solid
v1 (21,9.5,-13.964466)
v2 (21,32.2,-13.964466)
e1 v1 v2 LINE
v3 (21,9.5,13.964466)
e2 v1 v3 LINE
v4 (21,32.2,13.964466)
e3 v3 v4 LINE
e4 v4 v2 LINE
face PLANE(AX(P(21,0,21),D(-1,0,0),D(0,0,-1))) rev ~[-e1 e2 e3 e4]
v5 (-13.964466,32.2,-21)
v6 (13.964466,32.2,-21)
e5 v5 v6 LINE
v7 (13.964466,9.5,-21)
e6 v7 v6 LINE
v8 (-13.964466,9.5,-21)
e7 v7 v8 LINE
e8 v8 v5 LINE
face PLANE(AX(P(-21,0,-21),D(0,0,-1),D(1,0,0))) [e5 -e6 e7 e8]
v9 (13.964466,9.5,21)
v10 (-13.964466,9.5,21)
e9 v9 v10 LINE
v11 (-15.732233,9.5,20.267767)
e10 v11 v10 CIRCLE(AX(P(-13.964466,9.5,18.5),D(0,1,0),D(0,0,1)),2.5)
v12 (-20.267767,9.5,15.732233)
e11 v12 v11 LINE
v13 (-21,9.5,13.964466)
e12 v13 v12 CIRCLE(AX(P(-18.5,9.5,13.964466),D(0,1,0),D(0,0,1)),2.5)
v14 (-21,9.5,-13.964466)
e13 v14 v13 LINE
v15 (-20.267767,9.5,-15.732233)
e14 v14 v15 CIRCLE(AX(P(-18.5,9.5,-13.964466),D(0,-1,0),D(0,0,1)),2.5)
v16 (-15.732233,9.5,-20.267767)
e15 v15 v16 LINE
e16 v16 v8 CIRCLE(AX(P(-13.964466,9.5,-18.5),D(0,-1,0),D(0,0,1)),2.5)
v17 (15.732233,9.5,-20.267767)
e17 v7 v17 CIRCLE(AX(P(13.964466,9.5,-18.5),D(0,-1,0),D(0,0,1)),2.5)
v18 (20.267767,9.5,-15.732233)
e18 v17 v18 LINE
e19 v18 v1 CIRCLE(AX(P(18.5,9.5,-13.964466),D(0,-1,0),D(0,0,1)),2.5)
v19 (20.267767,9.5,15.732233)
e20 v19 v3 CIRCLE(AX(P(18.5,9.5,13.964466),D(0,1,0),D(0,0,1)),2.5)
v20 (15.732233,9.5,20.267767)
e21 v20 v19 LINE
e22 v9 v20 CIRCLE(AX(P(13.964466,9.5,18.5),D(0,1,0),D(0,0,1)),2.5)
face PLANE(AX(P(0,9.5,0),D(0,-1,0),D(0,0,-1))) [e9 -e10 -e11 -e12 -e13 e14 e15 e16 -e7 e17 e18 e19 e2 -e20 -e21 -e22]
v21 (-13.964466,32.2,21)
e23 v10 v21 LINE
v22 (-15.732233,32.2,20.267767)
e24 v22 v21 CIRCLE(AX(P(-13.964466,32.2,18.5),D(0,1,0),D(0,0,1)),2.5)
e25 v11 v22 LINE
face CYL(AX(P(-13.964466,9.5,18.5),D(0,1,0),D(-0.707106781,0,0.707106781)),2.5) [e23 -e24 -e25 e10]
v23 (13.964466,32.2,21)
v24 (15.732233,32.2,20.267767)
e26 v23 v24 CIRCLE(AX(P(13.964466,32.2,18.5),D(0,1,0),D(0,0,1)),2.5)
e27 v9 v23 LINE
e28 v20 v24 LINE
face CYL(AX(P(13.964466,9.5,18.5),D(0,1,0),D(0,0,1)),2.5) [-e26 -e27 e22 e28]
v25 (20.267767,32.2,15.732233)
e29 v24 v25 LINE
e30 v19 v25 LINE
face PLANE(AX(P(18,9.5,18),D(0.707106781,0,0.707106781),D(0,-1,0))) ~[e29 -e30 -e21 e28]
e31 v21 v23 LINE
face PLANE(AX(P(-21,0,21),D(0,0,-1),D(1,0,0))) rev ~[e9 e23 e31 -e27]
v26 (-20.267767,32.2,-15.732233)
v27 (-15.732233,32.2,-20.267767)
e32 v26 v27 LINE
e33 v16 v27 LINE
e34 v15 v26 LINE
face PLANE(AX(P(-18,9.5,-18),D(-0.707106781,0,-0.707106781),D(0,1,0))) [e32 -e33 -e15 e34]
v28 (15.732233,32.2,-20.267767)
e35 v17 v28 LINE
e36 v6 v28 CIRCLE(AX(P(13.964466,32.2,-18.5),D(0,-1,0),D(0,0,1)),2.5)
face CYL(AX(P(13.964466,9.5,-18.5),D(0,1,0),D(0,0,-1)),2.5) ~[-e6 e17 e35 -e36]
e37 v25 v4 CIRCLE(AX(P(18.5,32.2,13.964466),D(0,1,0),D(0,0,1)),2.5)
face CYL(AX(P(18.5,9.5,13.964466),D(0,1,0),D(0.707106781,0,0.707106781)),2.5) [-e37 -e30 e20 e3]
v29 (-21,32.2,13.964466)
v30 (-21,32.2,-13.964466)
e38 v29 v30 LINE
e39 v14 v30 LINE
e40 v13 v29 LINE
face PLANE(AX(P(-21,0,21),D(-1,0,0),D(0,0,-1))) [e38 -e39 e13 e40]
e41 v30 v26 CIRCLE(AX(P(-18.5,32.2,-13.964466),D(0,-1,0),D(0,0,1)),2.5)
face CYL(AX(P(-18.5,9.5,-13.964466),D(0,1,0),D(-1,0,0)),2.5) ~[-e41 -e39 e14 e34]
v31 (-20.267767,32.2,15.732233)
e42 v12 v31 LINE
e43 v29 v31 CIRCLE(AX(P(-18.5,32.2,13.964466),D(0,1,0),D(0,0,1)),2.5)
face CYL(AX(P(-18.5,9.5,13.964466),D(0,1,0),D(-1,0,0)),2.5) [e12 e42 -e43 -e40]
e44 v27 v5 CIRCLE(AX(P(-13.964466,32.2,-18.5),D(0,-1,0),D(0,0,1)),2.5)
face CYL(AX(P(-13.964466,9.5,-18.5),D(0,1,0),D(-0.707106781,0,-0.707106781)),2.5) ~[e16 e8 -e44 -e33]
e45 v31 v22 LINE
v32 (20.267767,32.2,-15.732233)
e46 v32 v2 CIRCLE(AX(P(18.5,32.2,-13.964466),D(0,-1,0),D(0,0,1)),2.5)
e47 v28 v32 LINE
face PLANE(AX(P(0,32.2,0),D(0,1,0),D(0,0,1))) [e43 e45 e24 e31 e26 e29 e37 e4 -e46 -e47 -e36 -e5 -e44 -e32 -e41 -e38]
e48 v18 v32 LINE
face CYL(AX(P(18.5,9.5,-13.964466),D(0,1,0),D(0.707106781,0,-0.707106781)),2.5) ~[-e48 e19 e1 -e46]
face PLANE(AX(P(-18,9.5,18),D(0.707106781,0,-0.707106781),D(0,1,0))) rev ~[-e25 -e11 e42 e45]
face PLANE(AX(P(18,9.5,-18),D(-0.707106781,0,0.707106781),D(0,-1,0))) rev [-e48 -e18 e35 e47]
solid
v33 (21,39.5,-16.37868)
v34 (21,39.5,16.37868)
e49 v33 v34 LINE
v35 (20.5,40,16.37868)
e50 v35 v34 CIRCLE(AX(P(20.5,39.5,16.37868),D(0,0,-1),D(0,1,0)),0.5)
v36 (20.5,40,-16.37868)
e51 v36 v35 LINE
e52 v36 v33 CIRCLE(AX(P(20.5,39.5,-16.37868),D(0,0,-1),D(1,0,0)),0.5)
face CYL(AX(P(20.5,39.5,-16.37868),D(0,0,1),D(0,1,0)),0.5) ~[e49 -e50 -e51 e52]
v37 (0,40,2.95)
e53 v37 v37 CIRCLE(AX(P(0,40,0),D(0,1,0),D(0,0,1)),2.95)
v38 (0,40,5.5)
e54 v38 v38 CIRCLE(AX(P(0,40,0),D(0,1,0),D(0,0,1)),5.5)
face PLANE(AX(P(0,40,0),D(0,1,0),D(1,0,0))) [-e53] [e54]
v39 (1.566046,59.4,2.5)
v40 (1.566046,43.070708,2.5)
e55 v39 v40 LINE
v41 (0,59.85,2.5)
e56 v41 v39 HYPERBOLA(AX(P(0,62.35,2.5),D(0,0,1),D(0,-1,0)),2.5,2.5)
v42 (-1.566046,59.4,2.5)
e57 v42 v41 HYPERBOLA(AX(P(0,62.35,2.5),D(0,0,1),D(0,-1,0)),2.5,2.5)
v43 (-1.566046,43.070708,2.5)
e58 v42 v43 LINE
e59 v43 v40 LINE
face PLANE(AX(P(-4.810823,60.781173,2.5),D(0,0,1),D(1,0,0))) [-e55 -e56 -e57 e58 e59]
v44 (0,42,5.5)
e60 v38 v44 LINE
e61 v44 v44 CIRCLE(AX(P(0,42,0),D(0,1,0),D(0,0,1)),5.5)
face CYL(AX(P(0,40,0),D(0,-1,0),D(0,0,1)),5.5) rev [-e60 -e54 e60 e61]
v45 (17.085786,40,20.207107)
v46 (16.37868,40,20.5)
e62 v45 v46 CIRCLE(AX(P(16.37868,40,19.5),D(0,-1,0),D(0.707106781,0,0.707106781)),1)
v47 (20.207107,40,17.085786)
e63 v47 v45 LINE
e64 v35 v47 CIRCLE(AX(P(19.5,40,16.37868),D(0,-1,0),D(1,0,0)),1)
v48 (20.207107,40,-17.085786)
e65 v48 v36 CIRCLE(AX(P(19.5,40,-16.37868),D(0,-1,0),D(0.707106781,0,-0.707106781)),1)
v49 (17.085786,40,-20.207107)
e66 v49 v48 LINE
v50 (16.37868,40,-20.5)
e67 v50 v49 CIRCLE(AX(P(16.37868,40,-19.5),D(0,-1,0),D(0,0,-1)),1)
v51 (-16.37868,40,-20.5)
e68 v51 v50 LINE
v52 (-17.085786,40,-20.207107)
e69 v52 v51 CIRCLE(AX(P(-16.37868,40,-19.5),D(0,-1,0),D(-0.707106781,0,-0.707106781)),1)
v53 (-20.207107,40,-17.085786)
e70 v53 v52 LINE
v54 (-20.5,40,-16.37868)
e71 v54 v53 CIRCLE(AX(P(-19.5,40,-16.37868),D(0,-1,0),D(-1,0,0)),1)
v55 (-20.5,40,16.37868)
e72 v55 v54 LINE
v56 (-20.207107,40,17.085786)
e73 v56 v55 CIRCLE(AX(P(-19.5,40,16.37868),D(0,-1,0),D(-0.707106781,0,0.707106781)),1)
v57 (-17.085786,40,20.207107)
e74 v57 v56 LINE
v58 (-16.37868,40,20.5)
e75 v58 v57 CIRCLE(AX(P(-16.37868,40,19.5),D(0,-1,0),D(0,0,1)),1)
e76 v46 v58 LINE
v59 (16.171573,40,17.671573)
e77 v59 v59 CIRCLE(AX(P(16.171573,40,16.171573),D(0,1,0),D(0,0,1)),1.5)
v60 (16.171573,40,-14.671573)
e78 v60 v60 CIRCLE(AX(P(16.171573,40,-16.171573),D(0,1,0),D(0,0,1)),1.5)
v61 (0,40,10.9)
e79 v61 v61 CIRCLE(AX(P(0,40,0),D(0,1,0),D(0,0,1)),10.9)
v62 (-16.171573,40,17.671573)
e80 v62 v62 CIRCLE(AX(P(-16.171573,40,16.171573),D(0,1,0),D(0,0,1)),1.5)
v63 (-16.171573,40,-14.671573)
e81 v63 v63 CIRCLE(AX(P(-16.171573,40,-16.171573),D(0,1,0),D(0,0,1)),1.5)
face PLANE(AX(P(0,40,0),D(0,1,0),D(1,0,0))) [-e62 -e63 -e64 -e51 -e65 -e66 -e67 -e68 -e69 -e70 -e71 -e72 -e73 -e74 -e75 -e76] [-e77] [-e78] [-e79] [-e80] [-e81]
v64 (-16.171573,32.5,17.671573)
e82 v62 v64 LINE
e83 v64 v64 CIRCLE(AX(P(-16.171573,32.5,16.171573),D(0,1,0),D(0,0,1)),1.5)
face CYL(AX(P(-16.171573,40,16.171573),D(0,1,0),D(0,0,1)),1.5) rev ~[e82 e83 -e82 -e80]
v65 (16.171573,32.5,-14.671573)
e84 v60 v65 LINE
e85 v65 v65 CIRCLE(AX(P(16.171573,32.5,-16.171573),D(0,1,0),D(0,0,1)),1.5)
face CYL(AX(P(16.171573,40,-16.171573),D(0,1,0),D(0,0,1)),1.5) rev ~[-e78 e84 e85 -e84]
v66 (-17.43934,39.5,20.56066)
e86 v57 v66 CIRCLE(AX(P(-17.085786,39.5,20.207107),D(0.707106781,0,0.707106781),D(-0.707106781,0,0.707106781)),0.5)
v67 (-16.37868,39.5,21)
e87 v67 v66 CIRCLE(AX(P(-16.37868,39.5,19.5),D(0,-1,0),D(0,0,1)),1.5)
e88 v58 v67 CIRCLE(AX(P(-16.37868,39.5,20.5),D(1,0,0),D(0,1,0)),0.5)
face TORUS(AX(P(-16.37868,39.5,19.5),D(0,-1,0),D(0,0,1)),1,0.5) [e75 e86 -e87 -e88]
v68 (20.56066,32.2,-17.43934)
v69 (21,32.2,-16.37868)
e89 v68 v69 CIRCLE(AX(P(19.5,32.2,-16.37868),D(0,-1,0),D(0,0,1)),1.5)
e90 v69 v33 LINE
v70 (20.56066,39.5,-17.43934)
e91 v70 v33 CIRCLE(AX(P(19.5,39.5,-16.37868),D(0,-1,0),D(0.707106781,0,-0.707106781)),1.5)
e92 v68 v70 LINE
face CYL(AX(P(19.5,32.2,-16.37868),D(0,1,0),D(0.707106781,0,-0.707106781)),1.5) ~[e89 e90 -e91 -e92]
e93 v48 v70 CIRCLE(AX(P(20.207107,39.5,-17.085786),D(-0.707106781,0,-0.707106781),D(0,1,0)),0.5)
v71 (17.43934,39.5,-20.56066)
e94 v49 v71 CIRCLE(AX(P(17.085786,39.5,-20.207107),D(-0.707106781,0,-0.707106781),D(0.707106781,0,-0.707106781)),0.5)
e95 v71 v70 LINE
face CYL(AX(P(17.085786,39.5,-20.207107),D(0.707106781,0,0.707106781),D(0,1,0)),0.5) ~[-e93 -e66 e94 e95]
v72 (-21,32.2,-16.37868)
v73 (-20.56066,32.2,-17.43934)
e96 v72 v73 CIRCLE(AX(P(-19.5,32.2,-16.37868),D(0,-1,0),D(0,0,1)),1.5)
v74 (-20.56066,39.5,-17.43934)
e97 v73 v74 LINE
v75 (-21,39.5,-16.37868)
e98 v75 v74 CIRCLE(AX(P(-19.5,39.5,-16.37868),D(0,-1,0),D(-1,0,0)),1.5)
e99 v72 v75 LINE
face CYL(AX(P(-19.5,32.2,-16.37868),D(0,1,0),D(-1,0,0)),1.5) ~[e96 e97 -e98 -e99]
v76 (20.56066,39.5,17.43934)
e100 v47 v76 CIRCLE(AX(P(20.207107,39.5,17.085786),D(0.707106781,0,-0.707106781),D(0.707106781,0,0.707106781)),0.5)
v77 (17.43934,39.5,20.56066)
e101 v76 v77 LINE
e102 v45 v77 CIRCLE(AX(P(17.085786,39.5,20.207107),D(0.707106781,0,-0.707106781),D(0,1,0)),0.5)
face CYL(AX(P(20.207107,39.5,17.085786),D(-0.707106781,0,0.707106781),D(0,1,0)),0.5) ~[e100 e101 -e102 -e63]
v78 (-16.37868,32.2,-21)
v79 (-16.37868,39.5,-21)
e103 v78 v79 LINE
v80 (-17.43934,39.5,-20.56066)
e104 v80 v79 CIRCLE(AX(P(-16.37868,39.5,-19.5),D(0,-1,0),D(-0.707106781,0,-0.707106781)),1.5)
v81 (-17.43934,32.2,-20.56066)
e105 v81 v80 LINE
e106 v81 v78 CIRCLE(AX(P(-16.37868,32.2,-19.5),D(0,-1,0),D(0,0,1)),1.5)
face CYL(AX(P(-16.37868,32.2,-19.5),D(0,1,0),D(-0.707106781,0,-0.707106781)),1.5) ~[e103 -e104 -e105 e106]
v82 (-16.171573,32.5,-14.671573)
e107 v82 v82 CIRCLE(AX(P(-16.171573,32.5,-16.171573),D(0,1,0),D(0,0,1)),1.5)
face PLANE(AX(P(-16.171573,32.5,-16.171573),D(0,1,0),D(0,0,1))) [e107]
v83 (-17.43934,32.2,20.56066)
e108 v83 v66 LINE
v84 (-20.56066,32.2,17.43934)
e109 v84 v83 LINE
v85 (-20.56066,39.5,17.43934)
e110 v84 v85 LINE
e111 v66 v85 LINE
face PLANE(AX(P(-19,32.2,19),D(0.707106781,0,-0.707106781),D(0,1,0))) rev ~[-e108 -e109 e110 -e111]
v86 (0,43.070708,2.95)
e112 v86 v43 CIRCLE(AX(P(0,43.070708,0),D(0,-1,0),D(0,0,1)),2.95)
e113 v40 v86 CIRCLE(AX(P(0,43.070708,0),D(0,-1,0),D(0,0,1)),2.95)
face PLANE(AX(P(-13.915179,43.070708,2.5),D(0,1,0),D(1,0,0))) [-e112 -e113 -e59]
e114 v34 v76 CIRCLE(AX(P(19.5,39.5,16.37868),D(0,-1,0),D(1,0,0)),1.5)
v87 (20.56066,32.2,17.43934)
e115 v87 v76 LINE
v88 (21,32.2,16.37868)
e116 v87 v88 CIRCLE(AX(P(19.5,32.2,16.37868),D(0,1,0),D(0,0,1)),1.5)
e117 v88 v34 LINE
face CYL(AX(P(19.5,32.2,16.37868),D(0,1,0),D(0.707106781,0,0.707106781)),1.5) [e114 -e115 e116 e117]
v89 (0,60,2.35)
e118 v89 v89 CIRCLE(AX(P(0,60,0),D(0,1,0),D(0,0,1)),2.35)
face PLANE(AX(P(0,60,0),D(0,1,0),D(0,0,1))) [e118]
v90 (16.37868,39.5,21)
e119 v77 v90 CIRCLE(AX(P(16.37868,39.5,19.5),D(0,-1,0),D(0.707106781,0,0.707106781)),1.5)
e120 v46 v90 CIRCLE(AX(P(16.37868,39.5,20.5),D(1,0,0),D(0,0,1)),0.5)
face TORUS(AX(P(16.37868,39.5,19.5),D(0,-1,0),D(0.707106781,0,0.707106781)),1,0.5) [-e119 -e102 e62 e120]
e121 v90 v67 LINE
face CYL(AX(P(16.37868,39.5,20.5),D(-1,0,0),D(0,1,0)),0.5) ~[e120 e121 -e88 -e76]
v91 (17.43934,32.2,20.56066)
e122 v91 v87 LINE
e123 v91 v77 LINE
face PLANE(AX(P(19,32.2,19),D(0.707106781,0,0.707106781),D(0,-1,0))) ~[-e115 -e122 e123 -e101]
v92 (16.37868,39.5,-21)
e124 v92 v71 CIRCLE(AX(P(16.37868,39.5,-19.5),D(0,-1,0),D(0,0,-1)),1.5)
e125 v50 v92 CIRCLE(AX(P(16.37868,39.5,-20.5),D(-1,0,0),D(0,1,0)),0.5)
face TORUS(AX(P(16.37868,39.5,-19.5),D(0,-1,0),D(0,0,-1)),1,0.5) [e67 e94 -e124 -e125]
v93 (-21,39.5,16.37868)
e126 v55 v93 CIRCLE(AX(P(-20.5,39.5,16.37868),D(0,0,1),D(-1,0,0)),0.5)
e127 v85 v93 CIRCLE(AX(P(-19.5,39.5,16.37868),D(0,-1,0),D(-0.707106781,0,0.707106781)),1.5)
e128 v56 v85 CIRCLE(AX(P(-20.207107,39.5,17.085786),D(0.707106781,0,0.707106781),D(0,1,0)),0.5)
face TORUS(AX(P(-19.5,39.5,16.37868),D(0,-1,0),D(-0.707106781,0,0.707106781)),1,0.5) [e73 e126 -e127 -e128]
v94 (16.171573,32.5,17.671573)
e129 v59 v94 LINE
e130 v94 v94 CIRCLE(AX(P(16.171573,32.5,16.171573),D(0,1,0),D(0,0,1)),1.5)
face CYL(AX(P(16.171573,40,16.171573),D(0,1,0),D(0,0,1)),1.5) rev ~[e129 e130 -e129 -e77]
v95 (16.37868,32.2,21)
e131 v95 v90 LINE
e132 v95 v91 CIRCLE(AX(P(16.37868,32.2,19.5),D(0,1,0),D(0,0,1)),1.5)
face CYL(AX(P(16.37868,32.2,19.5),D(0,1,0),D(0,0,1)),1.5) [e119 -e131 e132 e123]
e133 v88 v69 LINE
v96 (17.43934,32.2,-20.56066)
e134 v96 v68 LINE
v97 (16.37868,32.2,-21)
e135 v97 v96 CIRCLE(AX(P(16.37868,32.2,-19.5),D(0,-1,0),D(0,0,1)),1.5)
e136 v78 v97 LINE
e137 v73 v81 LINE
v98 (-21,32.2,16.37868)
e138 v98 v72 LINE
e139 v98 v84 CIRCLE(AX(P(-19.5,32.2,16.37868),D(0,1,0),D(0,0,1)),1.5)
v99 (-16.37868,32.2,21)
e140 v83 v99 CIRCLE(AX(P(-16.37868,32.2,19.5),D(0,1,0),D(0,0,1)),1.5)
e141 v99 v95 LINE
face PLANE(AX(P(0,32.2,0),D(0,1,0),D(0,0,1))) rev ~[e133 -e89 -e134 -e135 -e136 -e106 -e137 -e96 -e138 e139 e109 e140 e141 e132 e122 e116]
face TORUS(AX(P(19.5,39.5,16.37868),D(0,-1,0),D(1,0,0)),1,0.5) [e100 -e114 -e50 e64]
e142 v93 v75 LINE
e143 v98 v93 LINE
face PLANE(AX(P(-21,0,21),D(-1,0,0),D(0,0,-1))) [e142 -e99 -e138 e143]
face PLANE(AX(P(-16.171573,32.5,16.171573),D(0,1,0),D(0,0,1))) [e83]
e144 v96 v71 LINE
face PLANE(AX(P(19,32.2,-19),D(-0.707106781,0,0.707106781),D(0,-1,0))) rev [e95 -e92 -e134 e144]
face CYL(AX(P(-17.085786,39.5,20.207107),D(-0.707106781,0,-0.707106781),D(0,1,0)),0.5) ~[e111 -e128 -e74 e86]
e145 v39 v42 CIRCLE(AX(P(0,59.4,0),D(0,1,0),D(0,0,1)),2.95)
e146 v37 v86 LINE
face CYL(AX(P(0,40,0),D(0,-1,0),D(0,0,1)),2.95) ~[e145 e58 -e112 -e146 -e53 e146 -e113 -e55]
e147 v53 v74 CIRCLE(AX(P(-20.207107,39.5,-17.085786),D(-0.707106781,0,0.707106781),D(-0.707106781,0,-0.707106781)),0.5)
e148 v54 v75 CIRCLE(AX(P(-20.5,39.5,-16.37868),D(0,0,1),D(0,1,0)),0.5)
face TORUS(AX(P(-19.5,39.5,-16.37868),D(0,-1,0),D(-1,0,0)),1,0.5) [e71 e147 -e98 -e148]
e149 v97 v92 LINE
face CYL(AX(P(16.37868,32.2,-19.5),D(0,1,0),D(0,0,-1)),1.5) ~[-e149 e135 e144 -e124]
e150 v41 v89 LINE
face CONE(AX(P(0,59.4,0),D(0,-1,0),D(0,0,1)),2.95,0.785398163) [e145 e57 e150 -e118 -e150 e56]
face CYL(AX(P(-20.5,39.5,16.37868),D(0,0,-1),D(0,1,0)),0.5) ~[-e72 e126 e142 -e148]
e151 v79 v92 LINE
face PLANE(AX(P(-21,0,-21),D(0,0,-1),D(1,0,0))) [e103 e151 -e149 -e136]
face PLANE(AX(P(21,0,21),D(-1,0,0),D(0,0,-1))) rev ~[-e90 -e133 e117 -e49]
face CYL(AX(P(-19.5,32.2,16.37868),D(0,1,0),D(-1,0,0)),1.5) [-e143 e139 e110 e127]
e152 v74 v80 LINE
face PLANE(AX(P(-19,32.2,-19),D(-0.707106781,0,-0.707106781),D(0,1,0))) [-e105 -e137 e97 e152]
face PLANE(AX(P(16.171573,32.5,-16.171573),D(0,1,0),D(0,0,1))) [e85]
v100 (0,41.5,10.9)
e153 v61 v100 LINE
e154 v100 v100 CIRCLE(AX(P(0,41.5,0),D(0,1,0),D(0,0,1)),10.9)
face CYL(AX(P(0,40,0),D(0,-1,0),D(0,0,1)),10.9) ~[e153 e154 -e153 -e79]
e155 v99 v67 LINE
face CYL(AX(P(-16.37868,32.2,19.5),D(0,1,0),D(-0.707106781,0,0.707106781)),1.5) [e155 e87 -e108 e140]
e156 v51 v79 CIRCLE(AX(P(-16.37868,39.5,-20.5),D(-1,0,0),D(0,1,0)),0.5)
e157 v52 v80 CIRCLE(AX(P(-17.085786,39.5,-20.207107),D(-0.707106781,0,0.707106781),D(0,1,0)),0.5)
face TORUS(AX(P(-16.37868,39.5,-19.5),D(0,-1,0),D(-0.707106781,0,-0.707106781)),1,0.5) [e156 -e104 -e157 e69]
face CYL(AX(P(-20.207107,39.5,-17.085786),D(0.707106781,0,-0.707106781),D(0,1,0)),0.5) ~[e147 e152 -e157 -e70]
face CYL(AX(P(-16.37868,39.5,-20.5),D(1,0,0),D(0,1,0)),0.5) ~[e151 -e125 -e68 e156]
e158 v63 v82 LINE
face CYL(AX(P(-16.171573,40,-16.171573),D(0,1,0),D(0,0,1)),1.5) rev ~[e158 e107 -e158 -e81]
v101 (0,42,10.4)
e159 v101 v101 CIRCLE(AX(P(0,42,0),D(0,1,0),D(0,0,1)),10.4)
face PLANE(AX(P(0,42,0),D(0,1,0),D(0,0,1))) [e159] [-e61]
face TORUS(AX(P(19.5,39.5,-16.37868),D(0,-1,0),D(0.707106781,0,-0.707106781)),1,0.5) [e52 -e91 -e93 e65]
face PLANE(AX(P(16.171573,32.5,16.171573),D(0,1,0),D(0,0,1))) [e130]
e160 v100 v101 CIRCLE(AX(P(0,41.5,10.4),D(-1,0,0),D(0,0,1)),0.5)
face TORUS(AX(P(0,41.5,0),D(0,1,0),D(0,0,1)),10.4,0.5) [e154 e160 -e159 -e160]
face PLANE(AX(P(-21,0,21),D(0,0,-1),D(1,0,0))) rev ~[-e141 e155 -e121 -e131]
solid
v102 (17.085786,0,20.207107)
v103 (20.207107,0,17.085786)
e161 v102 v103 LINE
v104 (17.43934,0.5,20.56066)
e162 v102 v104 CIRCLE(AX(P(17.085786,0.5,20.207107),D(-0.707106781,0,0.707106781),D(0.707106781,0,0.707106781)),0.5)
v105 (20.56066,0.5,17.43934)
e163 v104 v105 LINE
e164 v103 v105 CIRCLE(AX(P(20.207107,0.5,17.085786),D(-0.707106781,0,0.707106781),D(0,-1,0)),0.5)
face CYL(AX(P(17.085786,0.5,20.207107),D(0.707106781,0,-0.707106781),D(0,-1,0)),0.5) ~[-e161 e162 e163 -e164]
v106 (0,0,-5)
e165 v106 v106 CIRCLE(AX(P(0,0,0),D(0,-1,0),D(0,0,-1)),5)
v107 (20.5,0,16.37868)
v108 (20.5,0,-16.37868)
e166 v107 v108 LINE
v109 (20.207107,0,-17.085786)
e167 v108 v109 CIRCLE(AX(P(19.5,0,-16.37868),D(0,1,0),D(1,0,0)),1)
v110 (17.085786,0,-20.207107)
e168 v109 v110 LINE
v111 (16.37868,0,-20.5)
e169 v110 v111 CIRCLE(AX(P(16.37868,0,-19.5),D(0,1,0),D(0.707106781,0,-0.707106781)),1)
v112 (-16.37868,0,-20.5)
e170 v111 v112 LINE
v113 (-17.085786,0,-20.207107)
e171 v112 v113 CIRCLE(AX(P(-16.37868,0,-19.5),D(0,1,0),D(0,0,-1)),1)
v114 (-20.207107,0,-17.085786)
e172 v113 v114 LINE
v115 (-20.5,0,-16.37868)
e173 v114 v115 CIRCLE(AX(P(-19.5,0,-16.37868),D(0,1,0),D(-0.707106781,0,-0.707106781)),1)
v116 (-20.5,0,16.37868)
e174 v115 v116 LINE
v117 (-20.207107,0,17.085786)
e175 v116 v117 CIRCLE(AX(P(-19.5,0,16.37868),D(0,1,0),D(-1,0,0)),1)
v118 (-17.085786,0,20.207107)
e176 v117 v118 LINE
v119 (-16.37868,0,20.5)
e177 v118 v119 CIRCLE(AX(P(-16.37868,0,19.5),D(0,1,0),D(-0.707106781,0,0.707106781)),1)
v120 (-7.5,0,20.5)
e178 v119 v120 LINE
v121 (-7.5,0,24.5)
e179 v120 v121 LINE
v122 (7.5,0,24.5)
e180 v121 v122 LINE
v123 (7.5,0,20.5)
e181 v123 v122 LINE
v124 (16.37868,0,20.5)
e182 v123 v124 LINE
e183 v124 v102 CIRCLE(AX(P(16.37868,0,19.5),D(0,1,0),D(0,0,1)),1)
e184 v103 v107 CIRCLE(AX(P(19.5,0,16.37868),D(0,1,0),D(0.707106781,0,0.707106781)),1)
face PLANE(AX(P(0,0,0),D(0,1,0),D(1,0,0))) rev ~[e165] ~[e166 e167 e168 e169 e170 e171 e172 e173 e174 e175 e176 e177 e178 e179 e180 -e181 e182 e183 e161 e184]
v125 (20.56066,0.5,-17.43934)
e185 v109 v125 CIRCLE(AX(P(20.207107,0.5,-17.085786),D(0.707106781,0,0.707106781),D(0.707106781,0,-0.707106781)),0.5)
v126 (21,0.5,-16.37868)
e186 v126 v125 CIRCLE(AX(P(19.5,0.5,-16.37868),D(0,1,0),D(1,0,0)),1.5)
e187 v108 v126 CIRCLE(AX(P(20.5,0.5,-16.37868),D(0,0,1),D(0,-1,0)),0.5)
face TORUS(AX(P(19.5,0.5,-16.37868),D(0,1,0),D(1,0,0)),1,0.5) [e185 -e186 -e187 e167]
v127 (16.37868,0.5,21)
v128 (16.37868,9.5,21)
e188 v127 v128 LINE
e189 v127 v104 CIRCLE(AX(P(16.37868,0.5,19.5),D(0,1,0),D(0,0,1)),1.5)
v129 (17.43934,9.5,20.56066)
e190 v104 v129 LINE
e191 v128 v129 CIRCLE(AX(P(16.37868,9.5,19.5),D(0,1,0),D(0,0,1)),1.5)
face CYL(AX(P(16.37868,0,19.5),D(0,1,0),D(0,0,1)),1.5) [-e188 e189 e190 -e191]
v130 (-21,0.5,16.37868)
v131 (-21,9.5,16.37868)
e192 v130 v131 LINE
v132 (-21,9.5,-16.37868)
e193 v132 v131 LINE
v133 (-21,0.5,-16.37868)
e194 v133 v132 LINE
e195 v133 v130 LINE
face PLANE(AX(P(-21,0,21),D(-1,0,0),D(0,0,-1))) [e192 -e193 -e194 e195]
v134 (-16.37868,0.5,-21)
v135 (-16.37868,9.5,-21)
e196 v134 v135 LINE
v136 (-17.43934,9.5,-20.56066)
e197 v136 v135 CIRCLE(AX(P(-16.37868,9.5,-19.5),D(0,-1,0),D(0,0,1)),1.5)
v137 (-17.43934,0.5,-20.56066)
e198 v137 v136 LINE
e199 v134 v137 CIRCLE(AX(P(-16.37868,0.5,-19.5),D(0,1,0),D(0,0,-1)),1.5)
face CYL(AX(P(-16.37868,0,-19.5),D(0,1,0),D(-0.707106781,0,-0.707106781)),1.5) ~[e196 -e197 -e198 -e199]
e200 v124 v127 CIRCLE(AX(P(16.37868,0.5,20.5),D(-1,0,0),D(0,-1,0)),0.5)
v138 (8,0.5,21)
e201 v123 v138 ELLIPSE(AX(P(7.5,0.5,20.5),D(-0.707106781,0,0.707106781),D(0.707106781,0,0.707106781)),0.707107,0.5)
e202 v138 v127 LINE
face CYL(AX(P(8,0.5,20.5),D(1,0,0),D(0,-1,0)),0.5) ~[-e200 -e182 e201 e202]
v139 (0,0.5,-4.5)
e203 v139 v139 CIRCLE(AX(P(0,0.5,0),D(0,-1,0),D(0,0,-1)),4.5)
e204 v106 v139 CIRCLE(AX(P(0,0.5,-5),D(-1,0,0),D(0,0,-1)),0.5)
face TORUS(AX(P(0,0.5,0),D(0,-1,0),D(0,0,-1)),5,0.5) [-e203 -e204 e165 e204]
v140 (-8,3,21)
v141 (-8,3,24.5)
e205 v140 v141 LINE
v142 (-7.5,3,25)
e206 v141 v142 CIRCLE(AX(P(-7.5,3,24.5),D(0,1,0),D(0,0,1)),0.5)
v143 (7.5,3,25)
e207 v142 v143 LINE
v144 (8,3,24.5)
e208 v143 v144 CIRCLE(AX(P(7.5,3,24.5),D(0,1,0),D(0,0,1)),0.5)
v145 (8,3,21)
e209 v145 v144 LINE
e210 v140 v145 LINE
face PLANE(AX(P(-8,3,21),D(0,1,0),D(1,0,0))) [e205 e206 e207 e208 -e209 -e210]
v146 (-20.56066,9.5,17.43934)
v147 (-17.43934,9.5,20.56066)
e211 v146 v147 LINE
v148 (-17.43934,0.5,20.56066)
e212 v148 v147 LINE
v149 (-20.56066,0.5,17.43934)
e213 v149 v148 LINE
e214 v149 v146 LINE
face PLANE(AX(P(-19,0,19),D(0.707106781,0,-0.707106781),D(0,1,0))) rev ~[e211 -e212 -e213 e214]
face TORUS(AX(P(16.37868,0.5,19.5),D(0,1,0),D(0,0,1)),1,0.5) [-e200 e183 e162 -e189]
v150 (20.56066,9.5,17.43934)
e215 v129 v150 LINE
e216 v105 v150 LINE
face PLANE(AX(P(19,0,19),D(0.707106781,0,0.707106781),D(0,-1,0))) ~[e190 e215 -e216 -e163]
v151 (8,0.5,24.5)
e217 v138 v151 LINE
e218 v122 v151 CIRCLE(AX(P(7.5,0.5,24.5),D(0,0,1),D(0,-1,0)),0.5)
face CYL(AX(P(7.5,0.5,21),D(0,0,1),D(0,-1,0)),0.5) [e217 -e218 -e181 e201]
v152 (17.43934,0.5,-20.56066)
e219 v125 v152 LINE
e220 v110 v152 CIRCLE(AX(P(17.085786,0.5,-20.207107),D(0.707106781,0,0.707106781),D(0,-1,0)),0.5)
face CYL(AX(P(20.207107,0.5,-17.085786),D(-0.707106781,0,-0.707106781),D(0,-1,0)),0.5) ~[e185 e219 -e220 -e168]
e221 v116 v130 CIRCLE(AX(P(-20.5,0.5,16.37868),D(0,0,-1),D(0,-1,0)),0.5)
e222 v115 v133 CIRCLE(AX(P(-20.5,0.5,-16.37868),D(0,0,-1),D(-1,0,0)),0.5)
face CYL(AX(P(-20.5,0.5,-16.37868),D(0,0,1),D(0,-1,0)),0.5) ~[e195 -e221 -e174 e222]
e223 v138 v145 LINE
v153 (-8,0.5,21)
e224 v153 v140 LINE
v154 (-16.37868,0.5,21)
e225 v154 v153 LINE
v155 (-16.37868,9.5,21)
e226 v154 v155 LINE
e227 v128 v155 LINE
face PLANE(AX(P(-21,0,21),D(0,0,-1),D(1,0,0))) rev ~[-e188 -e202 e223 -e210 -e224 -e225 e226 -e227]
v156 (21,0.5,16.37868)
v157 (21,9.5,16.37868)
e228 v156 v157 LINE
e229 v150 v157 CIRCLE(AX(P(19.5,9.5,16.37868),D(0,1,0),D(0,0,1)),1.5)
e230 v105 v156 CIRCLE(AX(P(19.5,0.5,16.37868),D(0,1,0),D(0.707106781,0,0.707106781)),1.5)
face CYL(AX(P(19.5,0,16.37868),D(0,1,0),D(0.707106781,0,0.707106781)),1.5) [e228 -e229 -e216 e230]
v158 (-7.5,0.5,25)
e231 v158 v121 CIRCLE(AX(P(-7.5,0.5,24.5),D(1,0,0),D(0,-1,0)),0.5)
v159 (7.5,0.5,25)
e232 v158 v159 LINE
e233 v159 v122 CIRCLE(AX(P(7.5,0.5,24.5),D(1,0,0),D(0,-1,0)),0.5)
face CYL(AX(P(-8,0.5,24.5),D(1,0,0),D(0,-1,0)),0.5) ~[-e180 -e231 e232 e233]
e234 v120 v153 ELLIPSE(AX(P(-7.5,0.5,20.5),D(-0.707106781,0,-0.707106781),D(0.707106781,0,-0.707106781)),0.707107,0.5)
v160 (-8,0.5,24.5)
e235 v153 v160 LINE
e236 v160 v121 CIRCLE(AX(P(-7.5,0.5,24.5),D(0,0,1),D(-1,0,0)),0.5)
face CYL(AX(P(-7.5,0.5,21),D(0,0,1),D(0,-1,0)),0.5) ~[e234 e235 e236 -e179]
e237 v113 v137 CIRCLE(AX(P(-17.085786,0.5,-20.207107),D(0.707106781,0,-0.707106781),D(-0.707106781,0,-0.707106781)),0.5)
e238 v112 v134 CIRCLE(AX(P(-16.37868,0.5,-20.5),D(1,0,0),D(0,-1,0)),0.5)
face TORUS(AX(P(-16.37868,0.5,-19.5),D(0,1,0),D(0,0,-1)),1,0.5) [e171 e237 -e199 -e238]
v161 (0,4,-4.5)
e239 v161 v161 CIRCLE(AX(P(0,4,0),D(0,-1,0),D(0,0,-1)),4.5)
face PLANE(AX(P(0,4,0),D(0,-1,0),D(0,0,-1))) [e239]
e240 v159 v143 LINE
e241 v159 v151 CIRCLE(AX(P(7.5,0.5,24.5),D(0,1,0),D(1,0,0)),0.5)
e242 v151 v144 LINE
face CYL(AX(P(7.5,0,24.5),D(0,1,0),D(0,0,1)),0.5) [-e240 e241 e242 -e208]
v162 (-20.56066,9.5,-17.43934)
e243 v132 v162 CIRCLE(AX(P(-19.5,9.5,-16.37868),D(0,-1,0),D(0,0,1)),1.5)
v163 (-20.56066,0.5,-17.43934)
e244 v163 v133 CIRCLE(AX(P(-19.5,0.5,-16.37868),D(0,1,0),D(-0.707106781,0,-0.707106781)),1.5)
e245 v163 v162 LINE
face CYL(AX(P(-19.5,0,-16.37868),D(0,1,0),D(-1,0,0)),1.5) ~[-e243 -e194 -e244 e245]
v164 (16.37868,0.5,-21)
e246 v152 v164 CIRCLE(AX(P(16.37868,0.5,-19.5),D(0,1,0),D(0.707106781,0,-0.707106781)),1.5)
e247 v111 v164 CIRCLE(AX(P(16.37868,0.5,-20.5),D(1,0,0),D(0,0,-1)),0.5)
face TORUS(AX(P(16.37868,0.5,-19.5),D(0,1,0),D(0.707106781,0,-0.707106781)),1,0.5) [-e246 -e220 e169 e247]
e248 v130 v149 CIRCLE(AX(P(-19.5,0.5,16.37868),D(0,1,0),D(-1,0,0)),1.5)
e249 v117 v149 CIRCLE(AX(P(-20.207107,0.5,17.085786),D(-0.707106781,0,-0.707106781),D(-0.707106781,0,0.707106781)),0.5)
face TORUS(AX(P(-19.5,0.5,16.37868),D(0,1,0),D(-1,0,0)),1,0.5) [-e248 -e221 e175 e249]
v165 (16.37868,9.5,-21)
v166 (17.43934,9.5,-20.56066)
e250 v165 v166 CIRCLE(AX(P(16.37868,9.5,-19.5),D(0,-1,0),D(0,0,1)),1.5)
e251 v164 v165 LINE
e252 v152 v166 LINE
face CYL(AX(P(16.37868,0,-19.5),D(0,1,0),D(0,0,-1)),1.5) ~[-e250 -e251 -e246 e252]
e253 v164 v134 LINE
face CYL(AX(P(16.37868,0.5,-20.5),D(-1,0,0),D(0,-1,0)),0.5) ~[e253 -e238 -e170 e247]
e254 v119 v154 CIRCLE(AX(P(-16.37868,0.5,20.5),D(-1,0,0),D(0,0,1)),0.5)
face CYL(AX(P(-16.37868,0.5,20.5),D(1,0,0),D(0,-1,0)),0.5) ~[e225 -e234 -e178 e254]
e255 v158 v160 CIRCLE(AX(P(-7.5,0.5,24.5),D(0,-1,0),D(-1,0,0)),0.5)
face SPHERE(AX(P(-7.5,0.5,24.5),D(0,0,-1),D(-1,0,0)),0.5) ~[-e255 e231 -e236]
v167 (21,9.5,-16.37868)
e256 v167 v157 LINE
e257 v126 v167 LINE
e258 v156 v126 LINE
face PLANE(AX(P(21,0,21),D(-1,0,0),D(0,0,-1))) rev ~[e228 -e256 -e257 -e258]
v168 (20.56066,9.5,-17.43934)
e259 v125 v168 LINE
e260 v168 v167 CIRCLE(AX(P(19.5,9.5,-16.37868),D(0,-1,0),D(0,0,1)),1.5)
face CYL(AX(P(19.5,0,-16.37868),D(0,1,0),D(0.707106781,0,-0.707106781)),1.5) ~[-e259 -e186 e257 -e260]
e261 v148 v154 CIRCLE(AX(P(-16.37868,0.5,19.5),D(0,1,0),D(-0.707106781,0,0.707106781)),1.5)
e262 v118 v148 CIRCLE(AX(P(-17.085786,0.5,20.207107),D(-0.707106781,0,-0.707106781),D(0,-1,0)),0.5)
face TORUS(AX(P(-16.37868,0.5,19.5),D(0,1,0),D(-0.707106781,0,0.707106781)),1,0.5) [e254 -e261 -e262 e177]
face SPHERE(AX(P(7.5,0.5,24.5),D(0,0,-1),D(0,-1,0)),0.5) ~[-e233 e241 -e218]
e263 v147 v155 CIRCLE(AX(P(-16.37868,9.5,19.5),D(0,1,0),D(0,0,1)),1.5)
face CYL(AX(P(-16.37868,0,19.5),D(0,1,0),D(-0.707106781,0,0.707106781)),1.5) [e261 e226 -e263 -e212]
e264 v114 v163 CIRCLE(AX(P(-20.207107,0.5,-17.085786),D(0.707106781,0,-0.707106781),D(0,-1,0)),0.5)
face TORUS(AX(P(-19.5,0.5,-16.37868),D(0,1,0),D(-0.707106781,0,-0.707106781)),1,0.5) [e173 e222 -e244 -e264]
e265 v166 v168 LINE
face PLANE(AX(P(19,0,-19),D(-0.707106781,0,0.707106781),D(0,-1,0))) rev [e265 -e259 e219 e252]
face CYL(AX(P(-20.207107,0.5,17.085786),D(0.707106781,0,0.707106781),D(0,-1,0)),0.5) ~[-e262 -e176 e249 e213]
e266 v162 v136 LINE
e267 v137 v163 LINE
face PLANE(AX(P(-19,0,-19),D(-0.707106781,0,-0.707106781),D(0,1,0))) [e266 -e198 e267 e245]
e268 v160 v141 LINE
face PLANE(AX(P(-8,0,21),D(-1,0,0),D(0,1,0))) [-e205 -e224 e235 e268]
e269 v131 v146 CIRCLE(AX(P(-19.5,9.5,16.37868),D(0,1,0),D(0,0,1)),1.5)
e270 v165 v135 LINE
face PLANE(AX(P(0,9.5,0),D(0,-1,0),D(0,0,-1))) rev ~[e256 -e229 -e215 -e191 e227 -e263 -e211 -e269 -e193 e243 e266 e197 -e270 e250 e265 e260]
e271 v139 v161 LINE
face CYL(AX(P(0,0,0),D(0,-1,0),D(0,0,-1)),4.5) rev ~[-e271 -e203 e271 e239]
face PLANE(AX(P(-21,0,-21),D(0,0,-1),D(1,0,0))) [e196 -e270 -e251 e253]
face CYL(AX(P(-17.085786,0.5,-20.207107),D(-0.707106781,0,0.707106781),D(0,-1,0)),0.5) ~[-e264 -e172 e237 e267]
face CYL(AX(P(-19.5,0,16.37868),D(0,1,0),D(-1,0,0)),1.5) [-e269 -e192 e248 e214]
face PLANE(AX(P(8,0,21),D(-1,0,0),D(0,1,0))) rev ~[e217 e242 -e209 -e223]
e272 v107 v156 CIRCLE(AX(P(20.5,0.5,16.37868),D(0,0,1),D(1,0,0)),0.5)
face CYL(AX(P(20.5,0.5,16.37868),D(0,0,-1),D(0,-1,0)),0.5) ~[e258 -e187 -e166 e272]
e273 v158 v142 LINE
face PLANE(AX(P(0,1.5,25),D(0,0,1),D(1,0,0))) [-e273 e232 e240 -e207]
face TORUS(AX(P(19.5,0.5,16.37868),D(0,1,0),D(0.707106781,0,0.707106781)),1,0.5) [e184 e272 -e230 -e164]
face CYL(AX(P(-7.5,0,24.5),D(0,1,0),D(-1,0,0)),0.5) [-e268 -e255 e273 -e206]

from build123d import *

# Parameters (mm, degrees)
SKETCH1_W           = 42
SKETCH1_H           = 42
BOSS_EXTRUDE1_DEPTH = 40
SKETCH3_R           = 10.9
SKETCH3_R_2         = 5.5
BOSS_EXTRUDE2_DEPTH = 2
SKETCH4_R           = 2.95
BOSS_EXTRUDE3_DEPTH = 20
CHAMFER1_SIZE       = 6
CHAMFER2_SIZE       = 4
CHAMFER3_SIZE       = 4
FILLET1_R           = 2.5
FILLET2_R           = 1.5
FILLET3_R           = 1.5
CHAMFER4_SIZE       = 0.6
SKETCH5_W           = 16
SKETCH5_H           = 3
BOSS_EXTRUDE4_DEPTH = 4
SKETCH6_R           = 4.5
CUT_EXTRUDE1_DEPTH  = 4
SKETCH7_R           = 1.5
CUT_EXTRUDE2_DEPTH  = 7.5
FILLET4_R           = 0.5
FILLET5_R           = 0.5
FILLET6_R           = 0.5
SKETCH8_W           = 18.208712608
SKETCH8_H           = 35.420928506
CUT_EXTRUDE4_DEPTH  = 6


with BuildPart() as part:
    # Sketch1 → Boss-Extrude1 (new body)
    with BuildSketch(Plane(origin=(0, 0, 0), x_dir=(1, 0, 0), z_dir=(0, 1, 0))):
        Rectangle(SKETCH1_W, SKETCH1_H)
    extrude(amount=BOSS_EXTRUDE1_DEPTH)

    # Sketch3 → Boss-Extrude2 (add)
    with BuildSketch(Plane(origin=(0, 40, 0), x_dir=(1, 0, 0), z_dir=(0, 1, 0))):
        with Locations(Location((0, 0, 0), (0, 0, 270))):
            Circle(SKETCH3_R)
        with Locations(Location((0, 0, 0), (0, 0, 270))):
            Circle(SKETCH3_R_2, mode=Mode.SUBTRACT)
    extrude(amount=BOSS_EXTRUDE2_DEPTH)

    # Sketch4 → Boss-Extrude3 (add)
    with BuildSketch(Plane(origin=(0, 40, 0), x_dir=(1, 0, 0), z_dir=(0, 1, 0))):
        with Locations(Location((0, 0, 0), (0, 0, 270))):
            Circle(SKETCH4_R)
    extrude(amount=BOSS_EXTRUDE3_DEPTH)


with BuildPart() as body_2:
    # Split1: the piece on the far side of the plane
    add(part.part)
    split(bisect_by=Plane(origin=(0, 9.5, 0), x_dir=(0, 0, -1), z_dir=(0, -1, 0)), keep=Keep.BOTTOM)


with BuildPart() as part_1:
    add(part.part)

    # Split1
    split(bisect_by=Plane(origin=(0, 9.5, 0), x_dir=(0, 0, -1), z_dir=(0, -1, 0)), keep=Keep.TOP)

    # Chamfer3
    chamfer3_edges = [part_1.edges().sort_by_distance(p)[0] for p in [
        (21, 4.75, 21),
        (-21, 4.75, 21),
        (-21, 4.75, -21),
        (21, 4.75, -21),
    ]]
    chamfer(chamfer3_edges, length=CHAMFER3_SIZE)

    # Fillet2
    fillet2_edges = [part_1.edges().sort_by_distance(p)[0] for p in [
        (-17, 4.75, -21),
        (17, 4.75, -21),
        (21, 4.75, 17),
        (21, 4.75, -17),
        (-17, 4.75, 21),
        (17, 4.75, 21),
        (-21, 4.75, -17),
        (-21, 4.75, 17),
    ]]
    fillet(fillet2_edges, radius=FILLET2_R)

    # Sketch5 → Boss-Extrude4 (add)
    with BuildSketch(Plane.XY.offset(21)):
        with Locations((0, 1.5)):
            Rectangle(SKETCH5_W, SKETCH5_H)
    extrude(amount=BOSS_EXTRUDE4_DEPTH)

    # Sketch6 → Cut-Extrude1 (cut)
    with BuildSketch(Plane.XZ):
        with Locations(Location((0, 0, 0), (0, 0, 270))):
            Circle(SKETCH6_R)
    extrude(amount=-CUT_EXTRUDE1_DEPTH, mode=Mode.SUBTRACT)

    # Fillet6
    fillet6_edges = [part_1.edges().sort_by_distance(p)[0] for p in [
        (12.189339828, 0, 21),
        (-8, 0, 23),
        (8, 0, 23),
        (-8, 1.5, 25),
        (0, 0, 25),
        (8, 1.5, 25),
        (0, 0, 4.5),
        (0, 0, -21),
        (19, 0, -19),
        (21, 0, 0),
        (19, 0, 19),
        (-12.189339828, 0, 21),
        (-19, 0, 19),
        (-21, 0, 0),
        (-19, 0, -19),
        (-20.885819299, 0, -16.952704805),
        (-16.952704805, 0, -20.885819299),
        (-20.885819299, 0, 16.952704805),
        (-16.952704805, 0, 20.885819299),
        (16.952704805, 0, 20.885819299),
        (20.885819299, 0, 16.952704805),
        (20.885819299, 0, -16.952704805),
        (16.952704805, 0, -20.885819299),
    ]]
    fillet(fillet6_edges, radius=FILLET6_R)


with BuildPart() as body_3:
    # Split2: the piece on the far side of the plane
    add(body_2.part)
    split(bisect_by=Plane.ZX.offset(32.2), keep=Keep.BOTTOM)

    # Chamfer1
    chamfer1_edges = [body_3.edges().sort_by_distance(p)[0] for p in [
        (21, 20.85, -21),
        (-21, 20.85, -21),
        (-21, 20.85, 21),
        (21, 20.85, 21),
    ]]
    chamfer(chamfer1_edges, length=CHAMFER1_SIZE)

    # Fillet1
    fillet1_edges = [body_3.edges().sort_by_distance(p)[0] for p in [
        (15, 20.85, 21),
        (-15, 20.85, 21),
        (-21, 20.85, -15),
        (-21, 20.85, 15),
        (15, 20.85, -21),
        (-15, 20.85, -21),
        (21, 20.85, 15),
        (21, 20.85, -15),
    ]]
    fillet(fillet1_edges, radius=FILLET1_R)


with BuildPart() as body_2_1:
    add(body_2.part)

    # Split2
    split(bisect_by=Plane.ZX.offset(32.2), keep=Keep.TOP)

    # Chamfer2
    chamfer2_edges = [body_2_1.edges().sort_by_distance(p)[0] for p in [
        (21, 36.1, 21),
        (-21, 36.1, 21),
        (-21, 36.1, -21),
        (21, 36.1, -21),
    ]]
    chamfer(chamfer2_edges, length=CHAMFER2_SIZE)

    # Fillet3
    fillet3_edges = [body_2_1.edges().sort_by_distance(p)[0] for p in [
        (21, 36.1, -17),
        (21, 36.1, 17),
        (-17, 36.1, 21),
        (17, 36.1, 21),
        (-21, 36.1, -17),
        (-21, 36.1, 17),
        (17, 36.1, -21),
        (-17, 36.1, -21),
    ]]
    fillet(fillet3_edges, radius=FILLET3_R)

    # Chamfer4
    chamfer4_edges = [body_2_1.edges().sort_by_distance(p)[0] for p in [
        (0, 60, -2.95),
    ]]
    chamfer(chamfer4_edges, length=CHAMFER4_SIZE)

    # Sketch7 → Cut-Extrude2 (cut)
    with BuildSketch(Plane(origin=(0, 40, 0), x_dir=(1, 0, 0), z_dir=(0, 1, 0))):
        with Locations(Location((-16.171572875, 16.171572875, 0), (0, 0, 270))):
            Circle(SKETCH7_R)
        with Locations(Location((16.171572875, 16.171572875, 0), (0, 0, 270))):
            Circle(SKETCH7_R)
        with Locations(Location((16.171572875, -16.171572875, 0), (0, 0, 270))):
            Circle(SKETCH7_R)
        with Locations(Location((-16.171572875, -16.171572875, 0), (0, 0, 270))):
            Circle(SKETCH7_R)
    extrude(amount=-CUT_EXTRUDE2_DEPTH, mode=Mode.SUBTRACT)

    # Fillet4
    fillet4_edges = [body_2_1.edges().sort_by_distance(p)[0] for p in [
        (0, 40, -21),
        (0, 40, 21),
        (19, 40, 19),
        (21, 40, 0),
        (19, 40, -19),
        (-19, 40, -19),
        (-21, 40, 0),
        (-19, 40, 19),
        (-20.885819299, 40, -16.952704805),
        (-20.885819299, 40, 16.952704805),
        (-16.952704805, 40, 20.885819299),
        (16.952704805, 40, 20.885819299),
        (20.885819299, 40, 16.952704805),
        (20.885819299, 40, -16.952704805),
        (16.952704805, 40, -20.885819299),
        (-16.952704805, 40, -20.885819299),
    ]]
    fillet(fillet4_edges, radius=FILLET4_R)

    # Fillet5
    fillet5_edges = [body_2_1.edges().sort_by_distance(p)[0] for p in [
        (0, 42, -10.9),
    ]]
    fillet(fillet5_edges, radius=FILLET5_R)

    # Sketch8 → Cut-Extrude4 (cut)
    with BuildSketch(Plane.XY.offset(2.5)):
        with Locations((-4.810823062, 60.781172609)):
            Rectangle(SKETCH8_W, SKETCH8_H)
    extrude(amount=CUT_EXTRUDE4_DEPTH, mode=Mode.SUBTRACT)


solid = Compound([part_1.part, body_3.part, body_2_1.part])
